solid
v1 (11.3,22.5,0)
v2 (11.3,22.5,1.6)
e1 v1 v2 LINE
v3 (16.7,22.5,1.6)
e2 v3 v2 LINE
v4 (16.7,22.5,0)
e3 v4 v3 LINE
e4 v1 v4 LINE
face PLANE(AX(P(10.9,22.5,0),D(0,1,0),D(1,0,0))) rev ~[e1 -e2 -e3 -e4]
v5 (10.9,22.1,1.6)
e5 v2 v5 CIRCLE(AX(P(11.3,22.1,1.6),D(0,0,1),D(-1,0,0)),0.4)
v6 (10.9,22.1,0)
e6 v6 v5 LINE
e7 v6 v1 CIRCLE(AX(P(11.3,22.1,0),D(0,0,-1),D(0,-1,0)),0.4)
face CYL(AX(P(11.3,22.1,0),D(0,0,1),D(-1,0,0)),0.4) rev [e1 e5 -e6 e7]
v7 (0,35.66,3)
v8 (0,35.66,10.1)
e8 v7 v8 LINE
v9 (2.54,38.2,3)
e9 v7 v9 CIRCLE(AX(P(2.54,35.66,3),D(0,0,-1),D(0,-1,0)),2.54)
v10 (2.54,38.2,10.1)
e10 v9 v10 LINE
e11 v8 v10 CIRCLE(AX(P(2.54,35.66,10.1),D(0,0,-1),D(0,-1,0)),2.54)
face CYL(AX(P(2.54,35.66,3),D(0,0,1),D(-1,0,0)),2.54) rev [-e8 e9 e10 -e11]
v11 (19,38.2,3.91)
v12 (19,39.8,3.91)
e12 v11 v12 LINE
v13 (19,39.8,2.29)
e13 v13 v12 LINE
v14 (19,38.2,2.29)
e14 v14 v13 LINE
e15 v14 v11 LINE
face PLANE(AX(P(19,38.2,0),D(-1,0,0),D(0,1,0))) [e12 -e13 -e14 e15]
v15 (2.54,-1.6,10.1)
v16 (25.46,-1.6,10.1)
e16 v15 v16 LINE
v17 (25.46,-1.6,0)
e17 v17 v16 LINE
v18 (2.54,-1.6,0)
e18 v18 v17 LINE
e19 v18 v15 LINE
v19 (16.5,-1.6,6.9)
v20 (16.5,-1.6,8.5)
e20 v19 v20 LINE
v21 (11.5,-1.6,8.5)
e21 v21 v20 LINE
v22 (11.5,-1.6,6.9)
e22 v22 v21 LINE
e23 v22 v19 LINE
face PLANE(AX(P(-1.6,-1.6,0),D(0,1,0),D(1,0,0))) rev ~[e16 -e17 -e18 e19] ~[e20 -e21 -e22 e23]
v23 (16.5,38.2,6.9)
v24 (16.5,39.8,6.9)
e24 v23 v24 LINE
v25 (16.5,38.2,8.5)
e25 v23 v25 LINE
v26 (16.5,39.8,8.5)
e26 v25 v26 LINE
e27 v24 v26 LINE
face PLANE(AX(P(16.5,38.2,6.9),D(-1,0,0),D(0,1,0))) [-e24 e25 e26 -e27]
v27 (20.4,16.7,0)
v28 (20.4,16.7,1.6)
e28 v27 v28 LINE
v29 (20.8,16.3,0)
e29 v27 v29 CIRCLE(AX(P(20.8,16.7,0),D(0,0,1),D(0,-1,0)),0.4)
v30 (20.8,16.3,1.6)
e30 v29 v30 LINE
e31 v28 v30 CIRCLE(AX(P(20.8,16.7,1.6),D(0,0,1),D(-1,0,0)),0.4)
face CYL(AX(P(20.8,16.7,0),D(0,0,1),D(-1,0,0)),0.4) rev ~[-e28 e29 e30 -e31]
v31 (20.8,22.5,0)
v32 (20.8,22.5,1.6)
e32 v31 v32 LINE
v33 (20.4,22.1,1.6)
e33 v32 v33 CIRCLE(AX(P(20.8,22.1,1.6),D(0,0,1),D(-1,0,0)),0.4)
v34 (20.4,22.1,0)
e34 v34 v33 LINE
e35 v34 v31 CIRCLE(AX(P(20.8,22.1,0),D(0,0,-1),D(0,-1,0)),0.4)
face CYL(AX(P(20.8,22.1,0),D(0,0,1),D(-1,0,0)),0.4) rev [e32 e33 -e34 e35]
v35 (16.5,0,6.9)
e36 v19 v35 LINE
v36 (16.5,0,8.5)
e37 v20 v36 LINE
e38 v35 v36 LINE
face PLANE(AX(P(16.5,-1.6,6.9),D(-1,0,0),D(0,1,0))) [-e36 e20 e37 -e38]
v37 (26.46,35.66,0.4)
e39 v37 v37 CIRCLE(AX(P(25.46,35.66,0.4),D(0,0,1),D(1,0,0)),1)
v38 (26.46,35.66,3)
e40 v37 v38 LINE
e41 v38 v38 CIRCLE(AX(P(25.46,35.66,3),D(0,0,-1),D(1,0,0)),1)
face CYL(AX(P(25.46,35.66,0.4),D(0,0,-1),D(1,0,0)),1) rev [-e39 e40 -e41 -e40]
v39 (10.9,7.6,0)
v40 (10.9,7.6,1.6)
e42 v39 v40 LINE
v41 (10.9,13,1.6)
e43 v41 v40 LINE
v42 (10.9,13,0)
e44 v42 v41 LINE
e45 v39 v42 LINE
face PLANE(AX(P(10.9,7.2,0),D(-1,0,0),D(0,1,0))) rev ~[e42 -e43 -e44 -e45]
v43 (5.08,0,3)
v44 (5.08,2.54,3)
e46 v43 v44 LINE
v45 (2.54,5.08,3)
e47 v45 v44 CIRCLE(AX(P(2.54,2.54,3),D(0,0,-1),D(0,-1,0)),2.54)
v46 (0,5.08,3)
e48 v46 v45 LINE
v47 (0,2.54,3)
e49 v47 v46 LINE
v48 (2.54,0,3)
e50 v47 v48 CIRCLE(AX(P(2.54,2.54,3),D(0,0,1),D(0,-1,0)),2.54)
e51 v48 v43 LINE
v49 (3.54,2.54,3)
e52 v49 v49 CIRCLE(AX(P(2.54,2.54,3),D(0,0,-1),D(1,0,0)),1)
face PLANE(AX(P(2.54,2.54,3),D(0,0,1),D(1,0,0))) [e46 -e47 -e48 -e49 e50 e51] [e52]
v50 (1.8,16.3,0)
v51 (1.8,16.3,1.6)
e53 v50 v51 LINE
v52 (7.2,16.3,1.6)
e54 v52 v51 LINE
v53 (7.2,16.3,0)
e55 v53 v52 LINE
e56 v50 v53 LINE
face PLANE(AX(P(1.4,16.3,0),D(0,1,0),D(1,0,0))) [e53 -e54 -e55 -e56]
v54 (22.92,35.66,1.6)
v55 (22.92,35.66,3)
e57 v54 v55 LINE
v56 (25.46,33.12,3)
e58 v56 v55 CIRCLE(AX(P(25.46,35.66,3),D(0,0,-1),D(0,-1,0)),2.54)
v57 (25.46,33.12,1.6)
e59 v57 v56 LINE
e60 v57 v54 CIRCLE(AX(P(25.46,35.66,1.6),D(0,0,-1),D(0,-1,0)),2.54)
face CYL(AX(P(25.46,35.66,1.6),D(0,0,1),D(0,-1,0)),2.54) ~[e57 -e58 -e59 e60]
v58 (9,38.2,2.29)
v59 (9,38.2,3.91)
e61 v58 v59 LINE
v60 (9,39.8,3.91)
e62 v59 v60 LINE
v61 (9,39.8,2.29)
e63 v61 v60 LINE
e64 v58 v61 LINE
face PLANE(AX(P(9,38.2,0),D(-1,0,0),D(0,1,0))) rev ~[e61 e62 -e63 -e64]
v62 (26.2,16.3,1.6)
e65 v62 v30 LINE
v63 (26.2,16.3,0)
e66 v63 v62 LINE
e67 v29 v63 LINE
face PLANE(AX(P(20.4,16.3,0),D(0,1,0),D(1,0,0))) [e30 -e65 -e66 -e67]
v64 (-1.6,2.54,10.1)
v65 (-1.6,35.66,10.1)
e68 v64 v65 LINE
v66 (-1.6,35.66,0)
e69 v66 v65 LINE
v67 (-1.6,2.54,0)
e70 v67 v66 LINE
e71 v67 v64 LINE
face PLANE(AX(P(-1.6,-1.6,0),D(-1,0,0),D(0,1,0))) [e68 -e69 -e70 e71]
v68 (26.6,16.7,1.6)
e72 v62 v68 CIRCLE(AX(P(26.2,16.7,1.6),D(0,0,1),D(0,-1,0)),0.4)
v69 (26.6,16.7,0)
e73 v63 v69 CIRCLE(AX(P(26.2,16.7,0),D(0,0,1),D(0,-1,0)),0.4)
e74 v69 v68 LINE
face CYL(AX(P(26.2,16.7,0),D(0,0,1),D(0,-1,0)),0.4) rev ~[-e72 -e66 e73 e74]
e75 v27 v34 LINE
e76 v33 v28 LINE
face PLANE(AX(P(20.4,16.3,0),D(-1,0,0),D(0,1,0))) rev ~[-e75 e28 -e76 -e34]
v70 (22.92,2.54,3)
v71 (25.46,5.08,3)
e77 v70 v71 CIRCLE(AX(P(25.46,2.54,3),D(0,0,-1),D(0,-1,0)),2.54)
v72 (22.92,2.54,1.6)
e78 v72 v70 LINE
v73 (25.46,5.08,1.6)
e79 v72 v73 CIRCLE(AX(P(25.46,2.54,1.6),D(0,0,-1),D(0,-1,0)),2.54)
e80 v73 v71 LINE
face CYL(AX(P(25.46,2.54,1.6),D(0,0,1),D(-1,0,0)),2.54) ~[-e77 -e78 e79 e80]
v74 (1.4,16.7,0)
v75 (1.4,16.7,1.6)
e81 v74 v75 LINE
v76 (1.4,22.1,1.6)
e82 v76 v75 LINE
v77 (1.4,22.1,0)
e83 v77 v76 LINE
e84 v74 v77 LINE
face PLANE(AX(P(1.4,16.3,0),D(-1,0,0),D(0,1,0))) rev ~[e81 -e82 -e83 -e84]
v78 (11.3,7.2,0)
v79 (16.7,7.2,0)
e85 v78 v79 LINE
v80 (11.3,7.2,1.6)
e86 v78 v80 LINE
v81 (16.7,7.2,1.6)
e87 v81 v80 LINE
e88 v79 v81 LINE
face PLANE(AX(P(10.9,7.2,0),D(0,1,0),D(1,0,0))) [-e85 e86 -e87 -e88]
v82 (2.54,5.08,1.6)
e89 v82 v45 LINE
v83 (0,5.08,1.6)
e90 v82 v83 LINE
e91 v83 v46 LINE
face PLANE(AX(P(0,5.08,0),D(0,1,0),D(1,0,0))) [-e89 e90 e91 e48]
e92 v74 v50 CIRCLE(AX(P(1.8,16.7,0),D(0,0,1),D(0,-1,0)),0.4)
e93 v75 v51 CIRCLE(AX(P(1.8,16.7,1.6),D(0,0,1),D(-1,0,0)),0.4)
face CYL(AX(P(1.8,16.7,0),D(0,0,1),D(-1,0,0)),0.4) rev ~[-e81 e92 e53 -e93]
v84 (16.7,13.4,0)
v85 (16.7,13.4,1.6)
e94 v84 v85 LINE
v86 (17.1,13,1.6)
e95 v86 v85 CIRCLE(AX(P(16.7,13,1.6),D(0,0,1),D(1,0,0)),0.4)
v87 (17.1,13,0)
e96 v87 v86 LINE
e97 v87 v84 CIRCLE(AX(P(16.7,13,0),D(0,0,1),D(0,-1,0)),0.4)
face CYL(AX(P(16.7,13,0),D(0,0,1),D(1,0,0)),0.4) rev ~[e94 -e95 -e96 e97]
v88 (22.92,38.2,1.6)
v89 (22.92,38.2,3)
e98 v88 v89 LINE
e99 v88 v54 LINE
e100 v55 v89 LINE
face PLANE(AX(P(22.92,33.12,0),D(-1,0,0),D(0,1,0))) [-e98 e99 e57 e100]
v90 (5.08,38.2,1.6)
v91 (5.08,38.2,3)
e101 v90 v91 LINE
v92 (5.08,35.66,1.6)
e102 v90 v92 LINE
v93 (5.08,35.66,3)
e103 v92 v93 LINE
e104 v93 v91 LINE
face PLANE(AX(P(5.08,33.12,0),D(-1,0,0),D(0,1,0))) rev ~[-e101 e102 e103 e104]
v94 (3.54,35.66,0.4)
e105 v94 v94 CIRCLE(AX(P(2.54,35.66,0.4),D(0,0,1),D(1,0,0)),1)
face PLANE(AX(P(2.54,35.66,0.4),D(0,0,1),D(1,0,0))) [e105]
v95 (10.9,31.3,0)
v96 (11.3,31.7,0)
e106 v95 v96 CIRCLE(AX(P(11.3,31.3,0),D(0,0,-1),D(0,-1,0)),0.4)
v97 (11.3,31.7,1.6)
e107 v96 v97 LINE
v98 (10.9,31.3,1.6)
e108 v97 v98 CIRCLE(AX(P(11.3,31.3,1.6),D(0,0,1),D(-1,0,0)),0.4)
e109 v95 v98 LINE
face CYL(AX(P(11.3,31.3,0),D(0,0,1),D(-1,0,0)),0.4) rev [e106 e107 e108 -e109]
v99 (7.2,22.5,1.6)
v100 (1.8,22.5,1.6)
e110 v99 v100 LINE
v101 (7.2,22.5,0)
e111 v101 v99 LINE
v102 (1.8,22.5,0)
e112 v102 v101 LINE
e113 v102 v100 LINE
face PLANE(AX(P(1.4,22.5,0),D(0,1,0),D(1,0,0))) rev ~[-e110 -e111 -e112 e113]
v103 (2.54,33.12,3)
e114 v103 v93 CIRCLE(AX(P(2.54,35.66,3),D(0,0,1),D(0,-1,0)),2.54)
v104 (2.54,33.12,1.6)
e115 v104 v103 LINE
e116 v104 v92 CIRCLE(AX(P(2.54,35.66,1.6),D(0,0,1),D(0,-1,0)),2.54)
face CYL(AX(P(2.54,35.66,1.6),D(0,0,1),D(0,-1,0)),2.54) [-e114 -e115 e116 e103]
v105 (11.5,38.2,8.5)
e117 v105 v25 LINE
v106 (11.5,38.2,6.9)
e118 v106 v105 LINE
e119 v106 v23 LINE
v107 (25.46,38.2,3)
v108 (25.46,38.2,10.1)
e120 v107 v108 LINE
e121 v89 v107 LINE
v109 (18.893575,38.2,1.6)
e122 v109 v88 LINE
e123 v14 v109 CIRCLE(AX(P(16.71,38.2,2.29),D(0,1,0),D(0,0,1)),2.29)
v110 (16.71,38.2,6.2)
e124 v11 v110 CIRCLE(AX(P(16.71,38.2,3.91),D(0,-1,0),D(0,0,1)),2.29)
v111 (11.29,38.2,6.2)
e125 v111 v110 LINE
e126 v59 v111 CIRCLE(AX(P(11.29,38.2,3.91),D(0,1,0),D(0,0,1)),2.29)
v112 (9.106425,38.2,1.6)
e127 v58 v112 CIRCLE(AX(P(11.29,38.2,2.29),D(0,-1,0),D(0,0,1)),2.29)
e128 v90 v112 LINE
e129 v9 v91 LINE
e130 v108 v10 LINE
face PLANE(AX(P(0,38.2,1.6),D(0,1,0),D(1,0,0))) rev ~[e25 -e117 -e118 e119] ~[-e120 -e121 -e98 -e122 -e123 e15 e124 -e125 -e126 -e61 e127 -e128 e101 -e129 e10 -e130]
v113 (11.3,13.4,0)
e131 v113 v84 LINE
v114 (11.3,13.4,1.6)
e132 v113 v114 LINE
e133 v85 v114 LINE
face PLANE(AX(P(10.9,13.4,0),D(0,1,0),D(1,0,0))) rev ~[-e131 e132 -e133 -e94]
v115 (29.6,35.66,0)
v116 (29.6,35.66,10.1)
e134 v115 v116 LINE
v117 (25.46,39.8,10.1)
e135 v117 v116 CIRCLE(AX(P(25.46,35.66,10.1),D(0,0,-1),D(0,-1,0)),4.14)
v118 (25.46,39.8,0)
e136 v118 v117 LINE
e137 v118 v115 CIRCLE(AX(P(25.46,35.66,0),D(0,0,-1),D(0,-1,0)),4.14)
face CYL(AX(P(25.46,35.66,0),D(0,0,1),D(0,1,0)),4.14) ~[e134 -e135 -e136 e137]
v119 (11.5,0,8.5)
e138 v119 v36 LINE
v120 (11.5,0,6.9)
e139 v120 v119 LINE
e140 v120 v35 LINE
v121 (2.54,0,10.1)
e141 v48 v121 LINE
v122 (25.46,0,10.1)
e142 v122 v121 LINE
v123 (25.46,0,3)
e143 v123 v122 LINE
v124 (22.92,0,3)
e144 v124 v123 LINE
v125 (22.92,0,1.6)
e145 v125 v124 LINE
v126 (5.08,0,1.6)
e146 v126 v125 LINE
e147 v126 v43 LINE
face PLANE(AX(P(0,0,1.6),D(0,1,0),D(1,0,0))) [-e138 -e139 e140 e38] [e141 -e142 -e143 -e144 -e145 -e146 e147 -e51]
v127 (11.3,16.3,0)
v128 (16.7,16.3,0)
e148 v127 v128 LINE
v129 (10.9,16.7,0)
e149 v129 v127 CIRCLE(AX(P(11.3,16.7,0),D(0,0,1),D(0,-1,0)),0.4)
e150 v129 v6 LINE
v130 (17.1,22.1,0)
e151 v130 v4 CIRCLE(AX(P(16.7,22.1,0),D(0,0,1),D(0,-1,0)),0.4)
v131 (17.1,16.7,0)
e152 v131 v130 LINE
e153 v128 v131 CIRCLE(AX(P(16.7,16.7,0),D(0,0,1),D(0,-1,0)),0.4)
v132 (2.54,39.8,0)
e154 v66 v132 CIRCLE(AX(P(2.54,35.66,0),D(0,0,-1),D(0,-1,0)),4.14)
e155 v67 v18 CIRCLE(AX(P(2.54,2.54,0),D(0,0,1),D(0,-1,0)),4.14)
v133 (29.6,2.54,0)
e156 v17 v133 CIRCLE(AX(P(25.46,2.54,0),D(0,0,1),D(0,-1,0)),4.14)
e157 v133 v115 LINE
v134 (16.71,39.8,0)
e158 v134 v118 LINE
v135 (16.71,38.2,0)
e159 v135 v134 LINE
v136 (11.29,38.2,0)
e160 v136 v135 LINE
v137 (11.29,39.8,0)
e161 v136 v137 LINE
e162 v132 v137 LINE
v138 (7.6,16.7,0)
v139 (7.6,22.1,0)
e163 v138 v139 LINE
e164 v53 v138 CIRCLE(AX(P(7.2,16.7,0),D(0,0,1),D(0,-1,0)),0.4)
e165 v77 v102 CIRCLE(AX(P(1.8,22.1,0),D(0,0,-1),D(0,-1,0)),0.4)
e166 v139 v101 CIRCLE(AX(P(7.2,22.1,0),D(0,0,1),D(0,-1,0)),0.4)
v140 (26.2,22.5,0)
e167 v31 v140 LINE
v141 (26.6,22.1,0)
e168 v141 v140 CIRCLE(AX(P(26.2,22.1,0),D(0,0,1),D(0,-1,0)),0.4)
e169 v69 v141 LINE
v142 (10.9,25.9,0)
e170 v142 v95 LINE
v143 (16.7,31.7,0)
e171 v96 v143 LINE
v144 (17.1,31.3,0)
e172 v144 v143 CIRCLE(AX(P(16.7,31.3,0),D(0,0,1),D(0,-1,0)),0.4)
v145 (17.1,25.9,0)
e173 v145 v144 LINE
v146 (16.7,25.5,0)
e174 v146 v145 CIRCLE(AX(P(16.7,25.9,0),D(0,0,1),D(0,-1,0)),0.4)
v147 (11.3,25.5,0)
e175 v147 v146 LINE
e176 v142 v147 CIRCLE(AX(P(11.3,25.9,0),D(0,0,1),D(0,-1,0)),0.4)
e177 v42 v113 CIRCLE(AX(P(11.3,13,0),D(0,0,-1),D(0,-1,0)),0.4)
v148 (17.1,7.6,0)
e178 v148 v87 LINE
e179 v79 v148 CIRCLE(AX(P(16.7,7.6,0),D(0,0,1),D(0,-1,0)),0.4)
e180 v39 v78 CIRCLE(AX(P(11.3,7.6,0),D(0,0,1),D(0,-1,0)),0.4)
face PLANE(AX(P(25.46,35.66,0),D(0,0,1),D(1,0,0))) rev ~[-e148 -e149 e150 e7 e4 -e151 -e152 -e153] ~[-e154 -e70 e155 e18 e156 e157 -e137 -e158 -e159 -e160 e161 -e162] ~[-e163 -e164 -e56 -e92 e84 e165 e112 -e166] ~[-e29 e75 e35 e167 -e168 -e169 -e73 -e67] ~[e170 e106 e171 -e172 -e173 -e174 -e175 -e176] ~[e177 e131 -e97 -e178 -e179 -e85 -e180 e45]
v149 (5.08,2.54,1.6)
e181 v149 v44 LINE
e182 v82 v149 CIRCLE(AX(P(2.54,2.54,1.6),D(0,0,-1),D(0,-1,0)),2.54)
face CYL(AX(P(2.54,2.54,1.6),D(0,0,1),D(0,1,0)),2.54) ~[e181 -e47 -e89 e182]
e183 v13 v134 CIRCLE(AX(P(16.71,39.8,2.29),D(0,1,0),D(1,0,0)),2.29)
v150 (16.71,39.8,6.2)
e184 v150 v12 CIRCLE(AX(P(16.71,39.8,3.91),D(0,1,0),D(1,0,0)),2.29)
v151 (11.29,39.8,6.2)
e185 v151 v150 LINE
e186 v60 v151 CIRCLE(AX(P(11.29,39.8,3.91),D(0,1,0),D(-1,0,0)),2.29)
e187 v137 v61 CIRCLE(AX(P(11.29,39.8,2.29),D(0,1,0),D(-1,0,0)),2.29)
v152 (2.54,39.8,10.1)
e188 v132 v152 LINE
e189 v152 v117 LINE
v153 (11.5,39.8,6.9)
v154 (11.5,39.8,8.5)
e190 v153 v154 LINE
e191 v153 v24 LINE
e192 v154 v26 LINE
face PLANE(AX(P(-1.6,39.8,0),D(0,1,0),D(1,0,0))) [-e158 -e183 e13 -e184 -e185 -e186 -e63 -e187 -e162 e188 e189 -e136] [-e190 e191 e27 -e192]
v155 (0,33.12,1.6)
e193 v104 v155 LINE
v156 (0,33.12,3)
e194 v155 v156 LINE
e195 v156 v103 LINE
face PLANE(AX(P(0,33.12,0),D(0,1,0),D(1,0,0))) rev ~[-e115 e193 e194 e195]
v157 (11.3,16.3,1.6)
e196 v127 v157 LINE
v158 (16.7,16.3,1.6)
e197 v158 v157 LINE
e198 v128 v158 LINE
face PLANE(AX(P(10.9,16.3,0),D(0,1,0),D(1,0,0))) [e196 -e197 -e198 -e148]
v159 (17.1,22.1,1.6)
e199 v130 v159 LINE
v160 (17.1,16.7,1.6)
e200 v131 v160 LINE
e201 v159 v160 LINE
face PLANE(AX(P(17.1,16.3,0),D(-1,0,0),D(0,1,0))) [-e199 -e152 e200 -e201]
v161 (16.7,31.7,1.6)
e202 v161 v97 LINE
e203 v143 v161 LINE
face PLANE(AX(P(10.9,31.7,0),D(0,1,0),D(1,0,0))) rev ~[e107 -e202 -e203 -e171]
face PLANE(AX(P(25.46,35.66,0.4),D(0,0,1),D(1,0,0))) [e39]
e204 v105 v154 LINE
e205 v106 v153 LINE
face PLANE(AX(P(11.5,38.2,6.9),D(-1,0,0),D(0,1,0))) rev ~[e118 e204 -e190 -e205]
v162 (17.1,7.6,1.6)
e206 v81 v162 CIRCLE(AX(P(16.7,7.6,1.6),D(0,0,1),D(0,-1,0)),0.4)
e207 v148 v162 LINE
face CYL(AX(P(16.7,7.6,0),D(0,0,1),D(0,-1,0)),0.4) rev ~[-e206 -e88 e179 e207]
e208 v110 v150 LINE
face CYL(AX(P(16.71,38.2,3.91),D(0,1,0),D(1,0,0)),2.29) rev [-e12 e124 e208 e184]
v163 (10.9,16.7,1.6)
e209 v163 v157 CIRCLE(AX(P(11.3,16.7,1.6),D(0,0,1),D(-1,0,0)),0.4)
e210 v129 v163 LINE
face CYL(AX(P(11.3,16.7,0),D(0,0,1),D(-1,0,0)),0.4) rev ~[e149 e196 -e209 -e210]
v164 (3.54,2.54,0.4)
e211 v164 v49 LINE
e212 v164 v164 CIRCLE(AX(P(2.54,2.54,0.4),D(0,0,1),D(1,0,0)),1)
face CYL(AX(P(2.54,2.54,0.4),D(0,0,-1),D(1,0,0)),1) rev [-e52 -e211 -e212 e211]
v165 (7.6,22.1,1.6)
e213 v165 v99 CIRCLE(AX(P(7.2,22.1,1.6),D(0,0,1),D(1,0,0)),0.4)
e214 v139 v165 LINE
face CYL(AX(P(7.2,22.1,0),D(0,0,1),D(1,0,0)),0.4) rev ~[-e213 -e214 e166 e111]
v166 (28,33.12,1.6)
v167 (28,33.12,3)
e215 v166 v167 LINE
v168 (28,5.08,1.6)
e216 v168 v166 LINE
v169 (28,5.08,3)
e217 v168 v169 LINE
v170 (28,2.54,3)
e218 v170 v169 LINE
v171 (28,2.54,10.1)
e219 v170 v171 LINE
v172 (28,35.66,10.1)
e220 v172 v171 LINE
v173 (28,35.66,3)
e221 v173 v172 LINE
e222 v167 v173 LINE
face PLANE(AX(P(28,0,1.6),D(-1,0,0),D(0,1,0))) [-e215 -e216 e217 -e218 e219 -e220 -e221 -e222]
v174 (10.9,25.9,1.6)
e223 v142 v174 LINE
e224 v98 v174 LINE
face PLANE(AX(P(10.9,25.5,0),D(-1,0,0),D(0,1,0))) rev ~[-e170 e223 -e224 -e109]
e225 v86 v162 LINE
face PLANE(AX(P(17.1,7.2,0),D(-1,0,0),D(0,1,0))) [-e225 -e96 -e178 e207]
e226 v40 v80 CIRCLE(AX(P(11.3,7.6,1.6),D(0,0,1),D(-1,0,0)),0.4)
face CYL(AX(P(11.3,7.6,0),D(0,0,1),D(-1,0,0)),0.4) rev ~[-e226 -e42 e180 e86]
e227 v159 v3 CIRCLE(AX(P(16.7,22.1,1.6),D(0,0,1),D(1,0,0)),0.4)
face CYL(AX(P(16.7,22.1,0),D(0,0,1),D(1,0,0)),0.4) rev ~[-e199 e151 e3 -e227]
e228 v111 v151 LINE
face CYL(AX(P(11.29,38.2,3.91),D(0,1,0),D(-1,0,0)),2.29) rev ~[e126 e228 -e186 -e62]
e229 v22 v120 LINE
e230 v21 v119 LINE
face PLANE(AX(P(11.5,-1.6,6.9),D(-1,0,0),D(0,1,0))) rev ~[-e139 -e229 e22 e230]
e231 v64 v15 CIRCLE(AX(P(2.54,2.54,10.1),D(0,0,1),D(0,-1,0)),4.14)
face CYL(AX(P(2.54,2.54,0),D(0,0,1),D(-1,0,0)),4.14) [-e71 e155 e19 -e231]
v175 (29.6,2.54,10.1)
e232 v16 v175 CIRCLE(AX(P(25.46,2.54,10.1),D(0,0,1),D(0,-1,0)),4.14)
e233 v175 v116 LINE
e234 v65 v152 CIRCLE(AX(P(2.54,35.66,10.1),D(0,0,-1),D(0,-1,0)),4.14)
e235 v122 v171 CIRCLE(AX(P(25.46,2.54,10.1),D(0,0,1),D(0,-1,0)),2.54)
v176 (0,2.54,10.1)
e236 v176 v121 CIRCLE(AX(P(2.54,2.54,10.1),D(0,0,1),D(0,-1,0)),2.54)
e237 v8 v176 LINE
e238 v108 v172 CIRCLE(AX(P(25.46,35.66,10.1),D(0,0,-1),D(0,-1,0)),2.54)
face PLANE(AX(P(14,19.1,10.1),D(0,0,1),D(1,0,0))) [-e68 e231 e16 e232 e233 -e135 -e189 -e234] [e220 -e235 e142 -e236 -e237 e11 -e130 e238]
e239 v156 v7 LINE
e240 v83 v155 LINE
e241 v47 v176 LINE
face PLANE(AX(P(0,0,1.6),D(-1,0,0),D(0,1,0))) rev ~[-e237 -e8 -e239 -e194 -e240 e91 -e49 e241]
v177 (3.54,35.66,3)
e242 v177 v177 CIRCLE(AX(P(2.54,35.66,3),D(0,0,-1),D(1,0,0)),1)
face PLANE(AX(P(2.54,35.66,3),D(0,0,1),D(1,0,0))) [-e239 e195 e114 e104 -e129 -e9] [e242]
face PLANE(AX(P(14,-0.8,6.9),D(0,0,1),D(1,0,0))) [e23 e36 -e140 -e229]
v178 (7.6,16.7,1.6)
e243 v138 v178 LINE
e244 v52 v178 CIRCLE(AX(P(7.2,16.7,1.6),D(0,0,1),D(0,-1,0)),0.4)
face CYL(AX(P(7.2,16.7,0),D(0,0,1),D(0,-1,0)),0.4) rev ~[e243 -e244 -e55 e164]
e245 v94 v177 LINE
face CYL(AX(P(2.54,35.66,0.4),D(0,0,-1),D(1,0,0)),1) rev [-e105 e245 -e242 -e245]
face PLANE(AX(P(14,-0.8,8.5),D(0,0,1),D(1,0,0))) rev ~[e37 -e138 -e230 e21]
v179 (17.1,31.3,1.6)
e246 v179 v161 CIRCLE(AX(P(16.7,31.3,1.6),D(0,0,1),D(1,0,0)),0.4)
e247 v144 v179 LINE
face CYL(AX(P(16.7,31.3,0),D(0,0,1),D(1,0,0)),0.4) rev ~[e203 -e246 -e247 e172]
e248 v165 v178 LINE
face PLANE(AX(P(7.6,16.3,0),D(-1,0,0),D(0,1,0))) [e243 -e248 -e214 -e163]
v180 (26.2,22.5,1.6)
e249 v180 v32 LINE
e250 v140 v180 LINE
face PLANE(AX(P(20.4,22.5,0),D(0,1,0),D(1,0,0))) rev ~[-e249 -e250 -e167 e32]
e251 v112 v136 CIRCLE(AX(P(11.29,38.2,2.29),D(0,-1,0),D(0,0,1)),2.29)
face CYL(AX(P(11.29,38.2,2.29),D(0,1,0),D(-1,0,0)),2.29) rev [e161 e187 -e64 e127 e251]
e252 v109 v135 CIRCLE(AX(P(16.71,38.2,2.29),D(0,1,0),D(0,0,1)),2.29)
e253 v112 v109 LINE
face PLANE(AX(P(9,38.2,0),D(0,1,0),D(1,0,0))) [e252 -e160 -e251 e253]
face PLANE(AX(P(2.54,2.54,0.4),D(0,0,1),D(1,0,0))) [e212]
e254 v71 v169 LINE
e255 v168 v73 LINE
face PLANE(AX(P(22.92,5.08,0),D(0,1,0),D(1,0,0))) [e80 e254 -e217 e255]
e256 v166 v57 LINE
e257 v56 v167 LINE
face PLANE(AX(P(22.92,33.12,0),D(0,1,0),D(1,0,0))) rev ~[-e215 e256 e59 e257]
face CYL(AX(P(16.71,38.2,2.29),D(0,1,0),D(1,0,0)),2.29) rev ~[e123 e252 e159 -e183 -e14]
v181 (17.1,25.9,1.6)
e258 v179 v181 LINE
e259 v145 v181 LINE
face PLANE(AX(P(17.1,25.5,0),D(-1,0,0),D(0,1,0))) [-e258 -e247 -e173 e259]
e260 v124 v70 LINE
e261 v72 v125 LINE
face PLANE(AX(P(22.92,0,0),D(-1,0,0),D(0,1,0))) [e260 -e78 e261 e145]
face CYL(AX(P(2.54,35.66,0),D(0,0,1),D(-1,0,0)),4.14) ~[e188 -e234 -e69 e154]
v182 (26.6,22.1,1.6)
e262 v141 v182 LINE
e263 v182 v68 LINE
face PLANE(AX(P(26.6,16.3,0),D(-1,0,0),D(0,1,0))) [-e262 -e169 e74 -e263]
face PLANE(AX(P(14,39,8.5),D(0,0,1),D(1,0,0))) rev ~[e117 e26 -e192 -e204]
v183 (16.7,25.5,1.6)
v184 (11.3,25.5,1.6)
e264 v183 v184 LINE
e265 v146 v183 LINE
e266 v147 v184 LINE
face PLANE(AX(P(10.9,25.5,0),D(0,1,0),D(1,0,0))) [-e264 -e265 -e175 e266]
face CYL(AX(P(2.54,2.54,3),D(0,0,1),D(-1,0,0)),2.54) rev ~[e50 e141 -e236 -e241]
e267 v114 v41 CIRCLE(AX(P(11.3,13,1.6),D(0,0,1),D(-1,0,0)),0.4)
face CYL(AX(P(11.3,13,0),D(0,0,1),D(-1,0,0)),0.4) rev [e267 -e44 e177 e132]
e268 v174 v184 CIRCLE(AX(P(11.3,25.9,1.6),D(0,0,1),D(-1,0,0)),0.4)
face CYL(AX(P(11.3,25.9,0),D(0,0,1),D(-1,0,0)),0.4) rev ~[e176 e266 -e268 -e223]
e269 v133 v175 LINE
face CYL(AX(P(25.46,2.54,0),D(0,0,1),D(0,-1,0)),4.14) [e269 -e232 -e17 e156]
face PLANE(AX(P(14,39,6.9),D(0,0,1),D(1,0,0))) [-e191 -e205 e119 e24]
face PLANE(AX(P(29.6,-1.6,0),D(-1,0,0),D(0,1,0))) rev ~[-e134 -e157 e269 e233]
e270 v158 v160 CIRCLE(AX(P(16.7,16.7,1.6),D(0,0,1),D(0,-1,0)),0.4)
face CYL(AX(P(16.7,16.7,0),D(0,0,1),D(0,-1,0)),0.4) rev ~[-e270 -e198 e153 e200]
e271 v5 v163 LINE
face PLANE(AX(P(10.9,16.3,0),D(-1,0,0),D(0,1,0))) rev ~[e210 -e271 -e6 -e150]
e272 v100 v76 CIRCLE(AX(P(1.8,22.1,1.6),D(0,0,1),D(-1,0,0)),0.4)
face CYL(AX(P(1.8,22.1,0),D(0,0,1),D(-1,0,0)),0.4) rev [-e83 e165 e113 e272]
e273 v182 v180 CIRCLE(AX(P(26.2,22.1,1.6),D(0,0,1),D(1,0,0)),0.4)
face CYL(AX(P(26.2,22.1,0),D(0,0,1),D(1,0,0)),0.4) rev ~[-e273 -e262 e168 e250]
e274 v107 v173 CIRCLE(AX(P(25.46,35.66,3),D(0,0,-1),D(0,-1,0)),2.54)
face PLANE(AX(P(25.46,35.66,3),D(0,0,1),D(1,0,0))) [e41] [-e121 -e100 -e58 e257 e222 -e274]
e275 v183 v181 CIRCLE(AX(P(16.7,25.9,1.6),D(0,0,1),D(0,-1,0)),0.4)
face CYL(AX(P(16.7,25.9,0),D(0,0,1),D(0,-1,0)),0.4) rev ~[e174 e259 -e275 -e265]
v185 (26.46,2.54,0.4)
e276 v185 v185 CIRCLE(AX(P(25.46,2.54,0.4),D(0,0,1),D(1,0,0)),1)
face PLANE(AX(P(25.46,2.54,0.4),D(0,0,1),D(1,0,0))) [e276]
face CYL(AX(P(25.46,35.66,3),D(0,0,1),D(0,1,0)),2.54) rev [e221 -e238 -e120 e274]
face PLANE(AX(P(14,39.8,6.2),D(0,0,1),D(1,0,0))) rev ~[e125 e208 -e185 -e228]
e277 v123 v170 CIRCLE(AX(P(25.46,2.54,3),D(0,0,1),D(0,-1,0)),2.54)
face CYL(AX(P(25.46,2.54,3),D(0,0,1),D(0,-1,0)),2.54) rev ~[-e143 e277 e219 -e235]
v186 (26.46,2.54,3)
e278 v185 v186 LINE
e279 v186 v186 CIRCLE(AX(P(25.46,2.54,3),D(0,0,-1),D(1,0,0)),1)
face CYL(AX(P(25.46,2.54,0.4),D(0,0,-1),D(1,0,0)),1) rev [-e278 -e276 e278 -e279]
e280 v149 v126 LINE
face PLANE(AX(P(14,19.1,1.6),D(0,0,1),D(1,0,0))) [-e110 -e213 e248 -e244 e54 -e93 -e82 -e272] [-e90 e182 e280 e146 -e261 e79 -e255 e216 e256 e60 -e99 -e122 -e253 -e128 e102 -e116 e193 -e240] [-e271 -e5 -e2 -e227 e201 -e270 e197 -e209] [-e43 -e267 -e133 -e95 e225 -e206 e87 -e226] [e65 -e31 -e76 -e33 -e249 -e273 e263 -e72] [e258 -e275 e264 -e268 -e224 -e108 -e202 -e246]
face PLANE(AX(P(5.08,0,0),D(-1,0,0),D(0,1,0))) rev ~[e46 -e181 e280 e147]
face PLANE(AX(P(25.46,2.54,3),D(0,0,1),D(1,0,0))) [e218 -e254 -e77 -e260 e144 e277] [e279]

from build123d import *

# Parameters (mm, degrees)
BOX011_W          = 10
BOX011_H          = 3.2
BOX011_DEPTH      = 6.2
FILLET008_R       = 2.29
BOX013_W          = 5
BOX013_H          = 1.6
BOX013_DEPTH      = 1.6
BOX012_W          = 5
BOX012_H          = 1.6
BOX012_DEPTH      = 1.6
BOX009_W          = 6.2
BOX009_H          = 6.2
BOX009_DEPTH      = 2
FILLET004_R       = 0.4
BOX007_W          = 6.2
BOX007_H          = 6.2
BOX007_DEPTH      = 2
FILLET005_R       = 0.4
BOX010_W          = 6.2
BOX010_H          = 6.2
BOX010_DEPTH      = 2
FILLET006_R       = 0.4
BOX006_W          = 6.2
BOX006_H          = 6.2
BOX006_DEPTH      = 2
FILLET007_R       = 0.4
BOX008_W          = 6.2
BOX008_H          = 6.2
BOX008_DEPTH      = 2
FILLET003_R       = 0.4
CYLINDER003_R     = 1
CYLINDER003_DEPTH = 10
CYLINDER002_R     = 1
CYLINDER002_DEPTH = 10
CYLINDER001_R     = 1
CYLINDER001_DEPTH = 10
CYLINDER_R        = 1
CYLINDER_DEPTH    = 10
BOX002_W          = 5.08
BOX002_H          = 5.08
BOX002_DEPTH      = 3
BOX003_W          = 5.08
BOX003_H          = 5.08
BOX003_DEPTH      = 3
BOX004_W          = 5.08
BOX004_H          = 5.08
BOX004_DEPTH      = 3
BOX005_W          = 5.08
BOX005_H          = 5.08
BOX005_DEPTH      = 3
BOX001_W          = 28
BOX001_H          = 38.2
BOX001_DEPTH      = 10
BOX_W             = 31.2
BOX_H             = 41.4
BOX_DEPTH         = 10.1
FILLET_R          = 2.54
FILLET001_R       = 2.54
FILLET002_R       = 4.14


with BuildPart() as led:
    # Box011 → Box011 (new body)
    with BuildSketch(Plane(origin=(9, 38.2, 0), x_dir=(1, 0, 0), z_dir=(0, 0, 1))):
        with Locations((5, 1.6)):
            Rectangle(BOX011_W, BOX011_H)
    extrude(amount=BOX011_DEPTH)

    # Fillet008
    fillet008_edges = [led.edges().sort_by_distance(p)[0] for p in [
        (9, 39.8, 6.2),
        (9, 39.8, 0),
        (19, 39.8, 6.2),
        (19, 39.8, 0),
    ]]
    fillet(fillet008_edges, radius=FILLET008_R)


with BuildPart() as w_rfel013:
    # Box013 → Box013 (new body)
    with BuildSketch(Plane(origin=(11.5, 38.2, 6.9), x_dir=(1, 0, 0), z_dir=(0, 0, 1))):
        with Locations((2.5, 0.8)):
            Rectangle(BOX013_W, BOX013_H)
    extrude(amount=BOX013_DEPTH)


with BuildPart() as nut:
    # Box012 → Box012 (new body)
    with BuildSketch(Plane(origin=(11.5, -1.6, 6.9), x_dir=(1, 0, 0), z_dir=(0, 0, 1))):
        with Locations((2.5, 0.8)):
            Rectangle(BOX012_W, BOX012_H)
    extrude(amount=BOX012_DEPTH)

    # Fusion003: union Würfel013
    add(w_rfel013.part)


with BuildPart() as fillet004:
    # Box009 → Box009 (new body)
    with BuildSketch(Plane(origin=(1.4, 16.3, 0), x_dir=(1, 0, 0), z_dir=(0, 0, 1))):
        with Locations((3.1, 3.1)):
            Rectangle(BOX009_W, BOX009_H)
    extrude(amount=BOX009_DEPTH)

    # Fillet004
    fillet004_edges = [fillet004.edges().sort_by_distance(p)[0] for p in [
        (1.4, 16.3, 1),
        (1.4, 22.5, 1),
        (7.6, 16.3, 1),
        (7.6, 22.5, 1),
    ]]
    fillet(fillet004_edges, radius=FILLET004_R)


with BuildPart() as fillet005:
    # Box007 → Box007 (new body)
    with BuildSketch(Plane(origin=(10.9, 16.3, 0), x_dir=(1, 0, 0), z_dir=(0, 0, 1))):
        with Locations((3.1, 3.1)):
            Rectangle(BOX007_W, BOX007_H)
    extrude(amount=BOX007_DEPTH)

    # Fillet005
    fillet005_edges = [fillet005.edges().sort_by_distance(p)[0] for p in [
        (10.9, 16.3, 1),
        (10.9, 22.5, 1),
        (17.1, 16.3, 1),
        (17.1, 22.5, 1),
    ]]
    fillet(fillet005_edges, radius=FILLET005_R)


with BuildPart() as fillet006:
    # Box010 → Box010 (new body)
    with BuildSketch(Plane(origin=(20.4, 16.3, 0), x_dir=(1, 0, 0), z_dir=(0, 0, 1))):
        with Locations((3.1, 3.1)):
            Rectangle(BOX010_W, BOX010_H)
    extrude(amount=BOX010_DEPTH)

    # Fillet006
    fillet006_edges = [fillet006.edges().sort_by_distance(p)[0] for p in [
        (20.4, 16.3, 1),
        (20.4, 22.5, 1),
        (26.6, 16.3, 1),
        (26.6, 22.5, 1),
    ]]
    fillet(fillet006_edges, radius=FILLET006_R)


with BuildPart() as fillet007:
    # Box006 → Box006 (new body)
    with BuildSketch(Plane(origin=(10.9, 7.2, 0), x_dir=(1, 0, 0), z_dir=(0, 0, 1))):
        with Locations((3.1, 3.1)):
            Rectangle(BOX006_W, BOX006_H)
    extrude(amount=BOX006_DEPTH)

    # Fillet007
    fillet007_edges = [fillet007.edges().sort_by_distance(p)[0] for p in [
        (10.9, 7.2, 1),
        (10.9, 13.4, 1),
        (17.1, 7.2, 1),
        (17.1, 13.4, 1),
    ]]
    fillet(fillet007_edges, radius=FILLET007_R)


with BuildPart() as buttons:
    # Box008 → Box008 (new body)
    with BuildSketch(Plane(origin=(10.9, 25.5, 0), x_dir=(1, 0, 0), z_dir=(0, 0, 1))):
        with Locations((3.1, 3.1)):
            Rectangle(BOX008_W, BOX008_H)
    extrude(amount=BOX008_DEPTH)

    # Fillet003
    fillet003_edges = [buttons.edges().sort_by_distance(p)[0] for p in [
        (10.9, 25.5, 1),
        (10.9, 31.7, 1),
        (17.1, 25.5, 1),
        (17.1, 31.7, 1),
    ]]
    fillet(fillet003_edges, radius=FILLET003_R)

    # Fusion002: union Fillet004, Fillet005, Fillet006, Fillet007
    add(fillet004.part)
    add(fillet005.part)
    add(fillet006.part)
    add(fillet007.part)


with BuildPart() as zylinder003:
    # Cylinder003 → Cylinder003 (new body)
    with BuildSketch(Plane(origin=(25.46, 35.66, 0.4), x_dir=(1, 0, 0), z_dir=(0, 0, 1))):
        Circle(CYLINDER003_R)
    extrude(amount=CYLINDER003_DEPTH)


with BuildPart() as zylinder002:
    # Cylinder002 → Cylinder002 (new body)
    with BuildSketch(Plane(origin=(2.54, 35.66, 0.4), x_dir=(1, 0, 0), z_dir=(0, 0, 1))):
        Circle(CYLINDER002_R)
    extrude(amount=CYLINDER002_DEPTH)


with BuildPart() as zylinder001:
    # Cylinder001 → Cylinder001 (new body)
    with BuildSketch(Plane(origin=(25.46, 2.54, 0.4), x_dir=(1, 0, 0), z_dir=(0, 0, 1))):
        Circle(CYLINDER001_R)
    extrude(amount=CYLINDER001_DEPTH)


with BuildPart() as fusion001:
    # Cylinder → Cylinder (new body)
    with BuildSketch(Plane(origin=(2.54, 2.54, 0.4), x_dir=(1, 0, 0), z_dir=(0, 0, 1))):
        Circle(CYLINDER_R)
    extrude(amount=CYLINDER_DEPTH)

    # Fusion001: union Zylinder003, Zylinder002, Zylinder001
    add(zylinder003.part)
    add(zylinder002.part)
    add(zylinder001.part)


with BuildPart() as w_rfel002:
    # Box002 → Box002 (new body)
    with BuildSketch(Plane.XY):
        with Locations((2.54, 2.54)):
            Rectangle(BOX002_W, BOX002_H)
    extrude(amount=BOX002_DEPTH)


with BuildPart() as w_rfel003:
    # Box003 → Box003 (new body)
    with BuildSketch(Plane(origin=(22.92, 0, 0), x_dir=(1, 0, 0), z_dir=(0, 0, 1))):
        with Locations((2.54, 2.54)):
            Rectangle(BOX003_W, BOX003_H)
    extrude(amount=BOX003_DEPTH)


with BuildPart() as w_rfel004:
    # Box004 → Box004 (new body)
    with BuildSketch(Plane(origin=(0, 33.12, 0), x_dir=(1, 0, 0), z_dir=(0, 0, 1))):
        with Locations((2.54, 2.54)):
            Rectangle(BOX004_W, BOX004_H)
    extrude(amount=BOX004_DEPTH)


with BuildPart() as w_rfel005:
    # Box005 → Box005 (new body)
    with BuildSketch(Plane(origin=(22.92, 33.12, 0), x_dir=(1, 0, 0), z_dir=(0, 0, 1))):
        with Locations((2.54, 2.54)):
            Rectangle(BOX005_W, BOX005_H)
    extrude(amount=BOX005_DEPTH)


with BuildPart() as w_rfel001:
    # Box001 → Box001 (new body)
    with BuildSketch(Plane.XY.offset(1.6)):
        with Locations((14, 19.1)):
            Rectangle(BOX001_W, BOX001_H)
    extrude(amount=BOX001_DEPTH)


with BuildPart() as cut005:
    # Box → Box (new body)
    with BuildSketch(Plane(origin=(-1.6, -1.6, 0), x_dir=(1, 0, 0), z_dir=(0, 0, 1))):
        with Locations((15.6, 20.7)):
            Rectangle(BOX_W, BOX_H)
    extrude(amount=BOX_DEPTH)

    # Cut: cut Würfel001
    add(w_rfel001.part, mode=Mode.SUBTRACT)

    # Fusion: union Würfel002, Würfel003, Würfel004, Würfel005
    add(w_rfel002.part)
    add(w_rfel003.part)
    add(w_rfel004.part)
    add(w_rfel005.part)

    # Fillet
    fillet_edges = [cut005.edges().sort_by_distance(p)[0] for p in [
        (22.92, 33.12, 2.3),
        (22.92, 5.08, 2.3),
        (5.08, 33.12, 2.3),
        (5.08, 5.08, 2.3),
    ]]
    fillet(fillet_edges, radius=FILLET_R)

    # Fillet001
    fillet001_edges = [cut005.edges().sort_by_distance(p)[0] for p in [
        (28, 38.2, 6.55),
        (0, 38.2, 6.55),
        (28, 0, 6.55),
        (0, 0, 6.55),
    ]]
    fillet(fillet001_edges, radius=FILLET001_R)

    # Fillet002
    fillet002_edges = [cut005.edges().sort_by_distance(p)[0] for p in [
        (-1.6, -1.6, 5.05),
        (-1.6, 39.8, 5.05),
        (29.6, 39.8, 5.05),
        (29.6, -1.6, 5.05),
    ]]
    fillet(fillet002_edges, radius=FILLET002_R)

    # Cut001: cut Fusion001
    add(fusion001.part, mode=Mode.SUBTRACT)

    # Cut003: cut Buttons
    add(buttons.part, mode=Mode.SUBTRACT)

    # Cut004: cut Nut
    add(nut.part, mode=Mode.SUBTRACT)

    # Cut005: cut LED
    add(led.part, mode=Mode.SUBTRACT)


solid = cut005.part
